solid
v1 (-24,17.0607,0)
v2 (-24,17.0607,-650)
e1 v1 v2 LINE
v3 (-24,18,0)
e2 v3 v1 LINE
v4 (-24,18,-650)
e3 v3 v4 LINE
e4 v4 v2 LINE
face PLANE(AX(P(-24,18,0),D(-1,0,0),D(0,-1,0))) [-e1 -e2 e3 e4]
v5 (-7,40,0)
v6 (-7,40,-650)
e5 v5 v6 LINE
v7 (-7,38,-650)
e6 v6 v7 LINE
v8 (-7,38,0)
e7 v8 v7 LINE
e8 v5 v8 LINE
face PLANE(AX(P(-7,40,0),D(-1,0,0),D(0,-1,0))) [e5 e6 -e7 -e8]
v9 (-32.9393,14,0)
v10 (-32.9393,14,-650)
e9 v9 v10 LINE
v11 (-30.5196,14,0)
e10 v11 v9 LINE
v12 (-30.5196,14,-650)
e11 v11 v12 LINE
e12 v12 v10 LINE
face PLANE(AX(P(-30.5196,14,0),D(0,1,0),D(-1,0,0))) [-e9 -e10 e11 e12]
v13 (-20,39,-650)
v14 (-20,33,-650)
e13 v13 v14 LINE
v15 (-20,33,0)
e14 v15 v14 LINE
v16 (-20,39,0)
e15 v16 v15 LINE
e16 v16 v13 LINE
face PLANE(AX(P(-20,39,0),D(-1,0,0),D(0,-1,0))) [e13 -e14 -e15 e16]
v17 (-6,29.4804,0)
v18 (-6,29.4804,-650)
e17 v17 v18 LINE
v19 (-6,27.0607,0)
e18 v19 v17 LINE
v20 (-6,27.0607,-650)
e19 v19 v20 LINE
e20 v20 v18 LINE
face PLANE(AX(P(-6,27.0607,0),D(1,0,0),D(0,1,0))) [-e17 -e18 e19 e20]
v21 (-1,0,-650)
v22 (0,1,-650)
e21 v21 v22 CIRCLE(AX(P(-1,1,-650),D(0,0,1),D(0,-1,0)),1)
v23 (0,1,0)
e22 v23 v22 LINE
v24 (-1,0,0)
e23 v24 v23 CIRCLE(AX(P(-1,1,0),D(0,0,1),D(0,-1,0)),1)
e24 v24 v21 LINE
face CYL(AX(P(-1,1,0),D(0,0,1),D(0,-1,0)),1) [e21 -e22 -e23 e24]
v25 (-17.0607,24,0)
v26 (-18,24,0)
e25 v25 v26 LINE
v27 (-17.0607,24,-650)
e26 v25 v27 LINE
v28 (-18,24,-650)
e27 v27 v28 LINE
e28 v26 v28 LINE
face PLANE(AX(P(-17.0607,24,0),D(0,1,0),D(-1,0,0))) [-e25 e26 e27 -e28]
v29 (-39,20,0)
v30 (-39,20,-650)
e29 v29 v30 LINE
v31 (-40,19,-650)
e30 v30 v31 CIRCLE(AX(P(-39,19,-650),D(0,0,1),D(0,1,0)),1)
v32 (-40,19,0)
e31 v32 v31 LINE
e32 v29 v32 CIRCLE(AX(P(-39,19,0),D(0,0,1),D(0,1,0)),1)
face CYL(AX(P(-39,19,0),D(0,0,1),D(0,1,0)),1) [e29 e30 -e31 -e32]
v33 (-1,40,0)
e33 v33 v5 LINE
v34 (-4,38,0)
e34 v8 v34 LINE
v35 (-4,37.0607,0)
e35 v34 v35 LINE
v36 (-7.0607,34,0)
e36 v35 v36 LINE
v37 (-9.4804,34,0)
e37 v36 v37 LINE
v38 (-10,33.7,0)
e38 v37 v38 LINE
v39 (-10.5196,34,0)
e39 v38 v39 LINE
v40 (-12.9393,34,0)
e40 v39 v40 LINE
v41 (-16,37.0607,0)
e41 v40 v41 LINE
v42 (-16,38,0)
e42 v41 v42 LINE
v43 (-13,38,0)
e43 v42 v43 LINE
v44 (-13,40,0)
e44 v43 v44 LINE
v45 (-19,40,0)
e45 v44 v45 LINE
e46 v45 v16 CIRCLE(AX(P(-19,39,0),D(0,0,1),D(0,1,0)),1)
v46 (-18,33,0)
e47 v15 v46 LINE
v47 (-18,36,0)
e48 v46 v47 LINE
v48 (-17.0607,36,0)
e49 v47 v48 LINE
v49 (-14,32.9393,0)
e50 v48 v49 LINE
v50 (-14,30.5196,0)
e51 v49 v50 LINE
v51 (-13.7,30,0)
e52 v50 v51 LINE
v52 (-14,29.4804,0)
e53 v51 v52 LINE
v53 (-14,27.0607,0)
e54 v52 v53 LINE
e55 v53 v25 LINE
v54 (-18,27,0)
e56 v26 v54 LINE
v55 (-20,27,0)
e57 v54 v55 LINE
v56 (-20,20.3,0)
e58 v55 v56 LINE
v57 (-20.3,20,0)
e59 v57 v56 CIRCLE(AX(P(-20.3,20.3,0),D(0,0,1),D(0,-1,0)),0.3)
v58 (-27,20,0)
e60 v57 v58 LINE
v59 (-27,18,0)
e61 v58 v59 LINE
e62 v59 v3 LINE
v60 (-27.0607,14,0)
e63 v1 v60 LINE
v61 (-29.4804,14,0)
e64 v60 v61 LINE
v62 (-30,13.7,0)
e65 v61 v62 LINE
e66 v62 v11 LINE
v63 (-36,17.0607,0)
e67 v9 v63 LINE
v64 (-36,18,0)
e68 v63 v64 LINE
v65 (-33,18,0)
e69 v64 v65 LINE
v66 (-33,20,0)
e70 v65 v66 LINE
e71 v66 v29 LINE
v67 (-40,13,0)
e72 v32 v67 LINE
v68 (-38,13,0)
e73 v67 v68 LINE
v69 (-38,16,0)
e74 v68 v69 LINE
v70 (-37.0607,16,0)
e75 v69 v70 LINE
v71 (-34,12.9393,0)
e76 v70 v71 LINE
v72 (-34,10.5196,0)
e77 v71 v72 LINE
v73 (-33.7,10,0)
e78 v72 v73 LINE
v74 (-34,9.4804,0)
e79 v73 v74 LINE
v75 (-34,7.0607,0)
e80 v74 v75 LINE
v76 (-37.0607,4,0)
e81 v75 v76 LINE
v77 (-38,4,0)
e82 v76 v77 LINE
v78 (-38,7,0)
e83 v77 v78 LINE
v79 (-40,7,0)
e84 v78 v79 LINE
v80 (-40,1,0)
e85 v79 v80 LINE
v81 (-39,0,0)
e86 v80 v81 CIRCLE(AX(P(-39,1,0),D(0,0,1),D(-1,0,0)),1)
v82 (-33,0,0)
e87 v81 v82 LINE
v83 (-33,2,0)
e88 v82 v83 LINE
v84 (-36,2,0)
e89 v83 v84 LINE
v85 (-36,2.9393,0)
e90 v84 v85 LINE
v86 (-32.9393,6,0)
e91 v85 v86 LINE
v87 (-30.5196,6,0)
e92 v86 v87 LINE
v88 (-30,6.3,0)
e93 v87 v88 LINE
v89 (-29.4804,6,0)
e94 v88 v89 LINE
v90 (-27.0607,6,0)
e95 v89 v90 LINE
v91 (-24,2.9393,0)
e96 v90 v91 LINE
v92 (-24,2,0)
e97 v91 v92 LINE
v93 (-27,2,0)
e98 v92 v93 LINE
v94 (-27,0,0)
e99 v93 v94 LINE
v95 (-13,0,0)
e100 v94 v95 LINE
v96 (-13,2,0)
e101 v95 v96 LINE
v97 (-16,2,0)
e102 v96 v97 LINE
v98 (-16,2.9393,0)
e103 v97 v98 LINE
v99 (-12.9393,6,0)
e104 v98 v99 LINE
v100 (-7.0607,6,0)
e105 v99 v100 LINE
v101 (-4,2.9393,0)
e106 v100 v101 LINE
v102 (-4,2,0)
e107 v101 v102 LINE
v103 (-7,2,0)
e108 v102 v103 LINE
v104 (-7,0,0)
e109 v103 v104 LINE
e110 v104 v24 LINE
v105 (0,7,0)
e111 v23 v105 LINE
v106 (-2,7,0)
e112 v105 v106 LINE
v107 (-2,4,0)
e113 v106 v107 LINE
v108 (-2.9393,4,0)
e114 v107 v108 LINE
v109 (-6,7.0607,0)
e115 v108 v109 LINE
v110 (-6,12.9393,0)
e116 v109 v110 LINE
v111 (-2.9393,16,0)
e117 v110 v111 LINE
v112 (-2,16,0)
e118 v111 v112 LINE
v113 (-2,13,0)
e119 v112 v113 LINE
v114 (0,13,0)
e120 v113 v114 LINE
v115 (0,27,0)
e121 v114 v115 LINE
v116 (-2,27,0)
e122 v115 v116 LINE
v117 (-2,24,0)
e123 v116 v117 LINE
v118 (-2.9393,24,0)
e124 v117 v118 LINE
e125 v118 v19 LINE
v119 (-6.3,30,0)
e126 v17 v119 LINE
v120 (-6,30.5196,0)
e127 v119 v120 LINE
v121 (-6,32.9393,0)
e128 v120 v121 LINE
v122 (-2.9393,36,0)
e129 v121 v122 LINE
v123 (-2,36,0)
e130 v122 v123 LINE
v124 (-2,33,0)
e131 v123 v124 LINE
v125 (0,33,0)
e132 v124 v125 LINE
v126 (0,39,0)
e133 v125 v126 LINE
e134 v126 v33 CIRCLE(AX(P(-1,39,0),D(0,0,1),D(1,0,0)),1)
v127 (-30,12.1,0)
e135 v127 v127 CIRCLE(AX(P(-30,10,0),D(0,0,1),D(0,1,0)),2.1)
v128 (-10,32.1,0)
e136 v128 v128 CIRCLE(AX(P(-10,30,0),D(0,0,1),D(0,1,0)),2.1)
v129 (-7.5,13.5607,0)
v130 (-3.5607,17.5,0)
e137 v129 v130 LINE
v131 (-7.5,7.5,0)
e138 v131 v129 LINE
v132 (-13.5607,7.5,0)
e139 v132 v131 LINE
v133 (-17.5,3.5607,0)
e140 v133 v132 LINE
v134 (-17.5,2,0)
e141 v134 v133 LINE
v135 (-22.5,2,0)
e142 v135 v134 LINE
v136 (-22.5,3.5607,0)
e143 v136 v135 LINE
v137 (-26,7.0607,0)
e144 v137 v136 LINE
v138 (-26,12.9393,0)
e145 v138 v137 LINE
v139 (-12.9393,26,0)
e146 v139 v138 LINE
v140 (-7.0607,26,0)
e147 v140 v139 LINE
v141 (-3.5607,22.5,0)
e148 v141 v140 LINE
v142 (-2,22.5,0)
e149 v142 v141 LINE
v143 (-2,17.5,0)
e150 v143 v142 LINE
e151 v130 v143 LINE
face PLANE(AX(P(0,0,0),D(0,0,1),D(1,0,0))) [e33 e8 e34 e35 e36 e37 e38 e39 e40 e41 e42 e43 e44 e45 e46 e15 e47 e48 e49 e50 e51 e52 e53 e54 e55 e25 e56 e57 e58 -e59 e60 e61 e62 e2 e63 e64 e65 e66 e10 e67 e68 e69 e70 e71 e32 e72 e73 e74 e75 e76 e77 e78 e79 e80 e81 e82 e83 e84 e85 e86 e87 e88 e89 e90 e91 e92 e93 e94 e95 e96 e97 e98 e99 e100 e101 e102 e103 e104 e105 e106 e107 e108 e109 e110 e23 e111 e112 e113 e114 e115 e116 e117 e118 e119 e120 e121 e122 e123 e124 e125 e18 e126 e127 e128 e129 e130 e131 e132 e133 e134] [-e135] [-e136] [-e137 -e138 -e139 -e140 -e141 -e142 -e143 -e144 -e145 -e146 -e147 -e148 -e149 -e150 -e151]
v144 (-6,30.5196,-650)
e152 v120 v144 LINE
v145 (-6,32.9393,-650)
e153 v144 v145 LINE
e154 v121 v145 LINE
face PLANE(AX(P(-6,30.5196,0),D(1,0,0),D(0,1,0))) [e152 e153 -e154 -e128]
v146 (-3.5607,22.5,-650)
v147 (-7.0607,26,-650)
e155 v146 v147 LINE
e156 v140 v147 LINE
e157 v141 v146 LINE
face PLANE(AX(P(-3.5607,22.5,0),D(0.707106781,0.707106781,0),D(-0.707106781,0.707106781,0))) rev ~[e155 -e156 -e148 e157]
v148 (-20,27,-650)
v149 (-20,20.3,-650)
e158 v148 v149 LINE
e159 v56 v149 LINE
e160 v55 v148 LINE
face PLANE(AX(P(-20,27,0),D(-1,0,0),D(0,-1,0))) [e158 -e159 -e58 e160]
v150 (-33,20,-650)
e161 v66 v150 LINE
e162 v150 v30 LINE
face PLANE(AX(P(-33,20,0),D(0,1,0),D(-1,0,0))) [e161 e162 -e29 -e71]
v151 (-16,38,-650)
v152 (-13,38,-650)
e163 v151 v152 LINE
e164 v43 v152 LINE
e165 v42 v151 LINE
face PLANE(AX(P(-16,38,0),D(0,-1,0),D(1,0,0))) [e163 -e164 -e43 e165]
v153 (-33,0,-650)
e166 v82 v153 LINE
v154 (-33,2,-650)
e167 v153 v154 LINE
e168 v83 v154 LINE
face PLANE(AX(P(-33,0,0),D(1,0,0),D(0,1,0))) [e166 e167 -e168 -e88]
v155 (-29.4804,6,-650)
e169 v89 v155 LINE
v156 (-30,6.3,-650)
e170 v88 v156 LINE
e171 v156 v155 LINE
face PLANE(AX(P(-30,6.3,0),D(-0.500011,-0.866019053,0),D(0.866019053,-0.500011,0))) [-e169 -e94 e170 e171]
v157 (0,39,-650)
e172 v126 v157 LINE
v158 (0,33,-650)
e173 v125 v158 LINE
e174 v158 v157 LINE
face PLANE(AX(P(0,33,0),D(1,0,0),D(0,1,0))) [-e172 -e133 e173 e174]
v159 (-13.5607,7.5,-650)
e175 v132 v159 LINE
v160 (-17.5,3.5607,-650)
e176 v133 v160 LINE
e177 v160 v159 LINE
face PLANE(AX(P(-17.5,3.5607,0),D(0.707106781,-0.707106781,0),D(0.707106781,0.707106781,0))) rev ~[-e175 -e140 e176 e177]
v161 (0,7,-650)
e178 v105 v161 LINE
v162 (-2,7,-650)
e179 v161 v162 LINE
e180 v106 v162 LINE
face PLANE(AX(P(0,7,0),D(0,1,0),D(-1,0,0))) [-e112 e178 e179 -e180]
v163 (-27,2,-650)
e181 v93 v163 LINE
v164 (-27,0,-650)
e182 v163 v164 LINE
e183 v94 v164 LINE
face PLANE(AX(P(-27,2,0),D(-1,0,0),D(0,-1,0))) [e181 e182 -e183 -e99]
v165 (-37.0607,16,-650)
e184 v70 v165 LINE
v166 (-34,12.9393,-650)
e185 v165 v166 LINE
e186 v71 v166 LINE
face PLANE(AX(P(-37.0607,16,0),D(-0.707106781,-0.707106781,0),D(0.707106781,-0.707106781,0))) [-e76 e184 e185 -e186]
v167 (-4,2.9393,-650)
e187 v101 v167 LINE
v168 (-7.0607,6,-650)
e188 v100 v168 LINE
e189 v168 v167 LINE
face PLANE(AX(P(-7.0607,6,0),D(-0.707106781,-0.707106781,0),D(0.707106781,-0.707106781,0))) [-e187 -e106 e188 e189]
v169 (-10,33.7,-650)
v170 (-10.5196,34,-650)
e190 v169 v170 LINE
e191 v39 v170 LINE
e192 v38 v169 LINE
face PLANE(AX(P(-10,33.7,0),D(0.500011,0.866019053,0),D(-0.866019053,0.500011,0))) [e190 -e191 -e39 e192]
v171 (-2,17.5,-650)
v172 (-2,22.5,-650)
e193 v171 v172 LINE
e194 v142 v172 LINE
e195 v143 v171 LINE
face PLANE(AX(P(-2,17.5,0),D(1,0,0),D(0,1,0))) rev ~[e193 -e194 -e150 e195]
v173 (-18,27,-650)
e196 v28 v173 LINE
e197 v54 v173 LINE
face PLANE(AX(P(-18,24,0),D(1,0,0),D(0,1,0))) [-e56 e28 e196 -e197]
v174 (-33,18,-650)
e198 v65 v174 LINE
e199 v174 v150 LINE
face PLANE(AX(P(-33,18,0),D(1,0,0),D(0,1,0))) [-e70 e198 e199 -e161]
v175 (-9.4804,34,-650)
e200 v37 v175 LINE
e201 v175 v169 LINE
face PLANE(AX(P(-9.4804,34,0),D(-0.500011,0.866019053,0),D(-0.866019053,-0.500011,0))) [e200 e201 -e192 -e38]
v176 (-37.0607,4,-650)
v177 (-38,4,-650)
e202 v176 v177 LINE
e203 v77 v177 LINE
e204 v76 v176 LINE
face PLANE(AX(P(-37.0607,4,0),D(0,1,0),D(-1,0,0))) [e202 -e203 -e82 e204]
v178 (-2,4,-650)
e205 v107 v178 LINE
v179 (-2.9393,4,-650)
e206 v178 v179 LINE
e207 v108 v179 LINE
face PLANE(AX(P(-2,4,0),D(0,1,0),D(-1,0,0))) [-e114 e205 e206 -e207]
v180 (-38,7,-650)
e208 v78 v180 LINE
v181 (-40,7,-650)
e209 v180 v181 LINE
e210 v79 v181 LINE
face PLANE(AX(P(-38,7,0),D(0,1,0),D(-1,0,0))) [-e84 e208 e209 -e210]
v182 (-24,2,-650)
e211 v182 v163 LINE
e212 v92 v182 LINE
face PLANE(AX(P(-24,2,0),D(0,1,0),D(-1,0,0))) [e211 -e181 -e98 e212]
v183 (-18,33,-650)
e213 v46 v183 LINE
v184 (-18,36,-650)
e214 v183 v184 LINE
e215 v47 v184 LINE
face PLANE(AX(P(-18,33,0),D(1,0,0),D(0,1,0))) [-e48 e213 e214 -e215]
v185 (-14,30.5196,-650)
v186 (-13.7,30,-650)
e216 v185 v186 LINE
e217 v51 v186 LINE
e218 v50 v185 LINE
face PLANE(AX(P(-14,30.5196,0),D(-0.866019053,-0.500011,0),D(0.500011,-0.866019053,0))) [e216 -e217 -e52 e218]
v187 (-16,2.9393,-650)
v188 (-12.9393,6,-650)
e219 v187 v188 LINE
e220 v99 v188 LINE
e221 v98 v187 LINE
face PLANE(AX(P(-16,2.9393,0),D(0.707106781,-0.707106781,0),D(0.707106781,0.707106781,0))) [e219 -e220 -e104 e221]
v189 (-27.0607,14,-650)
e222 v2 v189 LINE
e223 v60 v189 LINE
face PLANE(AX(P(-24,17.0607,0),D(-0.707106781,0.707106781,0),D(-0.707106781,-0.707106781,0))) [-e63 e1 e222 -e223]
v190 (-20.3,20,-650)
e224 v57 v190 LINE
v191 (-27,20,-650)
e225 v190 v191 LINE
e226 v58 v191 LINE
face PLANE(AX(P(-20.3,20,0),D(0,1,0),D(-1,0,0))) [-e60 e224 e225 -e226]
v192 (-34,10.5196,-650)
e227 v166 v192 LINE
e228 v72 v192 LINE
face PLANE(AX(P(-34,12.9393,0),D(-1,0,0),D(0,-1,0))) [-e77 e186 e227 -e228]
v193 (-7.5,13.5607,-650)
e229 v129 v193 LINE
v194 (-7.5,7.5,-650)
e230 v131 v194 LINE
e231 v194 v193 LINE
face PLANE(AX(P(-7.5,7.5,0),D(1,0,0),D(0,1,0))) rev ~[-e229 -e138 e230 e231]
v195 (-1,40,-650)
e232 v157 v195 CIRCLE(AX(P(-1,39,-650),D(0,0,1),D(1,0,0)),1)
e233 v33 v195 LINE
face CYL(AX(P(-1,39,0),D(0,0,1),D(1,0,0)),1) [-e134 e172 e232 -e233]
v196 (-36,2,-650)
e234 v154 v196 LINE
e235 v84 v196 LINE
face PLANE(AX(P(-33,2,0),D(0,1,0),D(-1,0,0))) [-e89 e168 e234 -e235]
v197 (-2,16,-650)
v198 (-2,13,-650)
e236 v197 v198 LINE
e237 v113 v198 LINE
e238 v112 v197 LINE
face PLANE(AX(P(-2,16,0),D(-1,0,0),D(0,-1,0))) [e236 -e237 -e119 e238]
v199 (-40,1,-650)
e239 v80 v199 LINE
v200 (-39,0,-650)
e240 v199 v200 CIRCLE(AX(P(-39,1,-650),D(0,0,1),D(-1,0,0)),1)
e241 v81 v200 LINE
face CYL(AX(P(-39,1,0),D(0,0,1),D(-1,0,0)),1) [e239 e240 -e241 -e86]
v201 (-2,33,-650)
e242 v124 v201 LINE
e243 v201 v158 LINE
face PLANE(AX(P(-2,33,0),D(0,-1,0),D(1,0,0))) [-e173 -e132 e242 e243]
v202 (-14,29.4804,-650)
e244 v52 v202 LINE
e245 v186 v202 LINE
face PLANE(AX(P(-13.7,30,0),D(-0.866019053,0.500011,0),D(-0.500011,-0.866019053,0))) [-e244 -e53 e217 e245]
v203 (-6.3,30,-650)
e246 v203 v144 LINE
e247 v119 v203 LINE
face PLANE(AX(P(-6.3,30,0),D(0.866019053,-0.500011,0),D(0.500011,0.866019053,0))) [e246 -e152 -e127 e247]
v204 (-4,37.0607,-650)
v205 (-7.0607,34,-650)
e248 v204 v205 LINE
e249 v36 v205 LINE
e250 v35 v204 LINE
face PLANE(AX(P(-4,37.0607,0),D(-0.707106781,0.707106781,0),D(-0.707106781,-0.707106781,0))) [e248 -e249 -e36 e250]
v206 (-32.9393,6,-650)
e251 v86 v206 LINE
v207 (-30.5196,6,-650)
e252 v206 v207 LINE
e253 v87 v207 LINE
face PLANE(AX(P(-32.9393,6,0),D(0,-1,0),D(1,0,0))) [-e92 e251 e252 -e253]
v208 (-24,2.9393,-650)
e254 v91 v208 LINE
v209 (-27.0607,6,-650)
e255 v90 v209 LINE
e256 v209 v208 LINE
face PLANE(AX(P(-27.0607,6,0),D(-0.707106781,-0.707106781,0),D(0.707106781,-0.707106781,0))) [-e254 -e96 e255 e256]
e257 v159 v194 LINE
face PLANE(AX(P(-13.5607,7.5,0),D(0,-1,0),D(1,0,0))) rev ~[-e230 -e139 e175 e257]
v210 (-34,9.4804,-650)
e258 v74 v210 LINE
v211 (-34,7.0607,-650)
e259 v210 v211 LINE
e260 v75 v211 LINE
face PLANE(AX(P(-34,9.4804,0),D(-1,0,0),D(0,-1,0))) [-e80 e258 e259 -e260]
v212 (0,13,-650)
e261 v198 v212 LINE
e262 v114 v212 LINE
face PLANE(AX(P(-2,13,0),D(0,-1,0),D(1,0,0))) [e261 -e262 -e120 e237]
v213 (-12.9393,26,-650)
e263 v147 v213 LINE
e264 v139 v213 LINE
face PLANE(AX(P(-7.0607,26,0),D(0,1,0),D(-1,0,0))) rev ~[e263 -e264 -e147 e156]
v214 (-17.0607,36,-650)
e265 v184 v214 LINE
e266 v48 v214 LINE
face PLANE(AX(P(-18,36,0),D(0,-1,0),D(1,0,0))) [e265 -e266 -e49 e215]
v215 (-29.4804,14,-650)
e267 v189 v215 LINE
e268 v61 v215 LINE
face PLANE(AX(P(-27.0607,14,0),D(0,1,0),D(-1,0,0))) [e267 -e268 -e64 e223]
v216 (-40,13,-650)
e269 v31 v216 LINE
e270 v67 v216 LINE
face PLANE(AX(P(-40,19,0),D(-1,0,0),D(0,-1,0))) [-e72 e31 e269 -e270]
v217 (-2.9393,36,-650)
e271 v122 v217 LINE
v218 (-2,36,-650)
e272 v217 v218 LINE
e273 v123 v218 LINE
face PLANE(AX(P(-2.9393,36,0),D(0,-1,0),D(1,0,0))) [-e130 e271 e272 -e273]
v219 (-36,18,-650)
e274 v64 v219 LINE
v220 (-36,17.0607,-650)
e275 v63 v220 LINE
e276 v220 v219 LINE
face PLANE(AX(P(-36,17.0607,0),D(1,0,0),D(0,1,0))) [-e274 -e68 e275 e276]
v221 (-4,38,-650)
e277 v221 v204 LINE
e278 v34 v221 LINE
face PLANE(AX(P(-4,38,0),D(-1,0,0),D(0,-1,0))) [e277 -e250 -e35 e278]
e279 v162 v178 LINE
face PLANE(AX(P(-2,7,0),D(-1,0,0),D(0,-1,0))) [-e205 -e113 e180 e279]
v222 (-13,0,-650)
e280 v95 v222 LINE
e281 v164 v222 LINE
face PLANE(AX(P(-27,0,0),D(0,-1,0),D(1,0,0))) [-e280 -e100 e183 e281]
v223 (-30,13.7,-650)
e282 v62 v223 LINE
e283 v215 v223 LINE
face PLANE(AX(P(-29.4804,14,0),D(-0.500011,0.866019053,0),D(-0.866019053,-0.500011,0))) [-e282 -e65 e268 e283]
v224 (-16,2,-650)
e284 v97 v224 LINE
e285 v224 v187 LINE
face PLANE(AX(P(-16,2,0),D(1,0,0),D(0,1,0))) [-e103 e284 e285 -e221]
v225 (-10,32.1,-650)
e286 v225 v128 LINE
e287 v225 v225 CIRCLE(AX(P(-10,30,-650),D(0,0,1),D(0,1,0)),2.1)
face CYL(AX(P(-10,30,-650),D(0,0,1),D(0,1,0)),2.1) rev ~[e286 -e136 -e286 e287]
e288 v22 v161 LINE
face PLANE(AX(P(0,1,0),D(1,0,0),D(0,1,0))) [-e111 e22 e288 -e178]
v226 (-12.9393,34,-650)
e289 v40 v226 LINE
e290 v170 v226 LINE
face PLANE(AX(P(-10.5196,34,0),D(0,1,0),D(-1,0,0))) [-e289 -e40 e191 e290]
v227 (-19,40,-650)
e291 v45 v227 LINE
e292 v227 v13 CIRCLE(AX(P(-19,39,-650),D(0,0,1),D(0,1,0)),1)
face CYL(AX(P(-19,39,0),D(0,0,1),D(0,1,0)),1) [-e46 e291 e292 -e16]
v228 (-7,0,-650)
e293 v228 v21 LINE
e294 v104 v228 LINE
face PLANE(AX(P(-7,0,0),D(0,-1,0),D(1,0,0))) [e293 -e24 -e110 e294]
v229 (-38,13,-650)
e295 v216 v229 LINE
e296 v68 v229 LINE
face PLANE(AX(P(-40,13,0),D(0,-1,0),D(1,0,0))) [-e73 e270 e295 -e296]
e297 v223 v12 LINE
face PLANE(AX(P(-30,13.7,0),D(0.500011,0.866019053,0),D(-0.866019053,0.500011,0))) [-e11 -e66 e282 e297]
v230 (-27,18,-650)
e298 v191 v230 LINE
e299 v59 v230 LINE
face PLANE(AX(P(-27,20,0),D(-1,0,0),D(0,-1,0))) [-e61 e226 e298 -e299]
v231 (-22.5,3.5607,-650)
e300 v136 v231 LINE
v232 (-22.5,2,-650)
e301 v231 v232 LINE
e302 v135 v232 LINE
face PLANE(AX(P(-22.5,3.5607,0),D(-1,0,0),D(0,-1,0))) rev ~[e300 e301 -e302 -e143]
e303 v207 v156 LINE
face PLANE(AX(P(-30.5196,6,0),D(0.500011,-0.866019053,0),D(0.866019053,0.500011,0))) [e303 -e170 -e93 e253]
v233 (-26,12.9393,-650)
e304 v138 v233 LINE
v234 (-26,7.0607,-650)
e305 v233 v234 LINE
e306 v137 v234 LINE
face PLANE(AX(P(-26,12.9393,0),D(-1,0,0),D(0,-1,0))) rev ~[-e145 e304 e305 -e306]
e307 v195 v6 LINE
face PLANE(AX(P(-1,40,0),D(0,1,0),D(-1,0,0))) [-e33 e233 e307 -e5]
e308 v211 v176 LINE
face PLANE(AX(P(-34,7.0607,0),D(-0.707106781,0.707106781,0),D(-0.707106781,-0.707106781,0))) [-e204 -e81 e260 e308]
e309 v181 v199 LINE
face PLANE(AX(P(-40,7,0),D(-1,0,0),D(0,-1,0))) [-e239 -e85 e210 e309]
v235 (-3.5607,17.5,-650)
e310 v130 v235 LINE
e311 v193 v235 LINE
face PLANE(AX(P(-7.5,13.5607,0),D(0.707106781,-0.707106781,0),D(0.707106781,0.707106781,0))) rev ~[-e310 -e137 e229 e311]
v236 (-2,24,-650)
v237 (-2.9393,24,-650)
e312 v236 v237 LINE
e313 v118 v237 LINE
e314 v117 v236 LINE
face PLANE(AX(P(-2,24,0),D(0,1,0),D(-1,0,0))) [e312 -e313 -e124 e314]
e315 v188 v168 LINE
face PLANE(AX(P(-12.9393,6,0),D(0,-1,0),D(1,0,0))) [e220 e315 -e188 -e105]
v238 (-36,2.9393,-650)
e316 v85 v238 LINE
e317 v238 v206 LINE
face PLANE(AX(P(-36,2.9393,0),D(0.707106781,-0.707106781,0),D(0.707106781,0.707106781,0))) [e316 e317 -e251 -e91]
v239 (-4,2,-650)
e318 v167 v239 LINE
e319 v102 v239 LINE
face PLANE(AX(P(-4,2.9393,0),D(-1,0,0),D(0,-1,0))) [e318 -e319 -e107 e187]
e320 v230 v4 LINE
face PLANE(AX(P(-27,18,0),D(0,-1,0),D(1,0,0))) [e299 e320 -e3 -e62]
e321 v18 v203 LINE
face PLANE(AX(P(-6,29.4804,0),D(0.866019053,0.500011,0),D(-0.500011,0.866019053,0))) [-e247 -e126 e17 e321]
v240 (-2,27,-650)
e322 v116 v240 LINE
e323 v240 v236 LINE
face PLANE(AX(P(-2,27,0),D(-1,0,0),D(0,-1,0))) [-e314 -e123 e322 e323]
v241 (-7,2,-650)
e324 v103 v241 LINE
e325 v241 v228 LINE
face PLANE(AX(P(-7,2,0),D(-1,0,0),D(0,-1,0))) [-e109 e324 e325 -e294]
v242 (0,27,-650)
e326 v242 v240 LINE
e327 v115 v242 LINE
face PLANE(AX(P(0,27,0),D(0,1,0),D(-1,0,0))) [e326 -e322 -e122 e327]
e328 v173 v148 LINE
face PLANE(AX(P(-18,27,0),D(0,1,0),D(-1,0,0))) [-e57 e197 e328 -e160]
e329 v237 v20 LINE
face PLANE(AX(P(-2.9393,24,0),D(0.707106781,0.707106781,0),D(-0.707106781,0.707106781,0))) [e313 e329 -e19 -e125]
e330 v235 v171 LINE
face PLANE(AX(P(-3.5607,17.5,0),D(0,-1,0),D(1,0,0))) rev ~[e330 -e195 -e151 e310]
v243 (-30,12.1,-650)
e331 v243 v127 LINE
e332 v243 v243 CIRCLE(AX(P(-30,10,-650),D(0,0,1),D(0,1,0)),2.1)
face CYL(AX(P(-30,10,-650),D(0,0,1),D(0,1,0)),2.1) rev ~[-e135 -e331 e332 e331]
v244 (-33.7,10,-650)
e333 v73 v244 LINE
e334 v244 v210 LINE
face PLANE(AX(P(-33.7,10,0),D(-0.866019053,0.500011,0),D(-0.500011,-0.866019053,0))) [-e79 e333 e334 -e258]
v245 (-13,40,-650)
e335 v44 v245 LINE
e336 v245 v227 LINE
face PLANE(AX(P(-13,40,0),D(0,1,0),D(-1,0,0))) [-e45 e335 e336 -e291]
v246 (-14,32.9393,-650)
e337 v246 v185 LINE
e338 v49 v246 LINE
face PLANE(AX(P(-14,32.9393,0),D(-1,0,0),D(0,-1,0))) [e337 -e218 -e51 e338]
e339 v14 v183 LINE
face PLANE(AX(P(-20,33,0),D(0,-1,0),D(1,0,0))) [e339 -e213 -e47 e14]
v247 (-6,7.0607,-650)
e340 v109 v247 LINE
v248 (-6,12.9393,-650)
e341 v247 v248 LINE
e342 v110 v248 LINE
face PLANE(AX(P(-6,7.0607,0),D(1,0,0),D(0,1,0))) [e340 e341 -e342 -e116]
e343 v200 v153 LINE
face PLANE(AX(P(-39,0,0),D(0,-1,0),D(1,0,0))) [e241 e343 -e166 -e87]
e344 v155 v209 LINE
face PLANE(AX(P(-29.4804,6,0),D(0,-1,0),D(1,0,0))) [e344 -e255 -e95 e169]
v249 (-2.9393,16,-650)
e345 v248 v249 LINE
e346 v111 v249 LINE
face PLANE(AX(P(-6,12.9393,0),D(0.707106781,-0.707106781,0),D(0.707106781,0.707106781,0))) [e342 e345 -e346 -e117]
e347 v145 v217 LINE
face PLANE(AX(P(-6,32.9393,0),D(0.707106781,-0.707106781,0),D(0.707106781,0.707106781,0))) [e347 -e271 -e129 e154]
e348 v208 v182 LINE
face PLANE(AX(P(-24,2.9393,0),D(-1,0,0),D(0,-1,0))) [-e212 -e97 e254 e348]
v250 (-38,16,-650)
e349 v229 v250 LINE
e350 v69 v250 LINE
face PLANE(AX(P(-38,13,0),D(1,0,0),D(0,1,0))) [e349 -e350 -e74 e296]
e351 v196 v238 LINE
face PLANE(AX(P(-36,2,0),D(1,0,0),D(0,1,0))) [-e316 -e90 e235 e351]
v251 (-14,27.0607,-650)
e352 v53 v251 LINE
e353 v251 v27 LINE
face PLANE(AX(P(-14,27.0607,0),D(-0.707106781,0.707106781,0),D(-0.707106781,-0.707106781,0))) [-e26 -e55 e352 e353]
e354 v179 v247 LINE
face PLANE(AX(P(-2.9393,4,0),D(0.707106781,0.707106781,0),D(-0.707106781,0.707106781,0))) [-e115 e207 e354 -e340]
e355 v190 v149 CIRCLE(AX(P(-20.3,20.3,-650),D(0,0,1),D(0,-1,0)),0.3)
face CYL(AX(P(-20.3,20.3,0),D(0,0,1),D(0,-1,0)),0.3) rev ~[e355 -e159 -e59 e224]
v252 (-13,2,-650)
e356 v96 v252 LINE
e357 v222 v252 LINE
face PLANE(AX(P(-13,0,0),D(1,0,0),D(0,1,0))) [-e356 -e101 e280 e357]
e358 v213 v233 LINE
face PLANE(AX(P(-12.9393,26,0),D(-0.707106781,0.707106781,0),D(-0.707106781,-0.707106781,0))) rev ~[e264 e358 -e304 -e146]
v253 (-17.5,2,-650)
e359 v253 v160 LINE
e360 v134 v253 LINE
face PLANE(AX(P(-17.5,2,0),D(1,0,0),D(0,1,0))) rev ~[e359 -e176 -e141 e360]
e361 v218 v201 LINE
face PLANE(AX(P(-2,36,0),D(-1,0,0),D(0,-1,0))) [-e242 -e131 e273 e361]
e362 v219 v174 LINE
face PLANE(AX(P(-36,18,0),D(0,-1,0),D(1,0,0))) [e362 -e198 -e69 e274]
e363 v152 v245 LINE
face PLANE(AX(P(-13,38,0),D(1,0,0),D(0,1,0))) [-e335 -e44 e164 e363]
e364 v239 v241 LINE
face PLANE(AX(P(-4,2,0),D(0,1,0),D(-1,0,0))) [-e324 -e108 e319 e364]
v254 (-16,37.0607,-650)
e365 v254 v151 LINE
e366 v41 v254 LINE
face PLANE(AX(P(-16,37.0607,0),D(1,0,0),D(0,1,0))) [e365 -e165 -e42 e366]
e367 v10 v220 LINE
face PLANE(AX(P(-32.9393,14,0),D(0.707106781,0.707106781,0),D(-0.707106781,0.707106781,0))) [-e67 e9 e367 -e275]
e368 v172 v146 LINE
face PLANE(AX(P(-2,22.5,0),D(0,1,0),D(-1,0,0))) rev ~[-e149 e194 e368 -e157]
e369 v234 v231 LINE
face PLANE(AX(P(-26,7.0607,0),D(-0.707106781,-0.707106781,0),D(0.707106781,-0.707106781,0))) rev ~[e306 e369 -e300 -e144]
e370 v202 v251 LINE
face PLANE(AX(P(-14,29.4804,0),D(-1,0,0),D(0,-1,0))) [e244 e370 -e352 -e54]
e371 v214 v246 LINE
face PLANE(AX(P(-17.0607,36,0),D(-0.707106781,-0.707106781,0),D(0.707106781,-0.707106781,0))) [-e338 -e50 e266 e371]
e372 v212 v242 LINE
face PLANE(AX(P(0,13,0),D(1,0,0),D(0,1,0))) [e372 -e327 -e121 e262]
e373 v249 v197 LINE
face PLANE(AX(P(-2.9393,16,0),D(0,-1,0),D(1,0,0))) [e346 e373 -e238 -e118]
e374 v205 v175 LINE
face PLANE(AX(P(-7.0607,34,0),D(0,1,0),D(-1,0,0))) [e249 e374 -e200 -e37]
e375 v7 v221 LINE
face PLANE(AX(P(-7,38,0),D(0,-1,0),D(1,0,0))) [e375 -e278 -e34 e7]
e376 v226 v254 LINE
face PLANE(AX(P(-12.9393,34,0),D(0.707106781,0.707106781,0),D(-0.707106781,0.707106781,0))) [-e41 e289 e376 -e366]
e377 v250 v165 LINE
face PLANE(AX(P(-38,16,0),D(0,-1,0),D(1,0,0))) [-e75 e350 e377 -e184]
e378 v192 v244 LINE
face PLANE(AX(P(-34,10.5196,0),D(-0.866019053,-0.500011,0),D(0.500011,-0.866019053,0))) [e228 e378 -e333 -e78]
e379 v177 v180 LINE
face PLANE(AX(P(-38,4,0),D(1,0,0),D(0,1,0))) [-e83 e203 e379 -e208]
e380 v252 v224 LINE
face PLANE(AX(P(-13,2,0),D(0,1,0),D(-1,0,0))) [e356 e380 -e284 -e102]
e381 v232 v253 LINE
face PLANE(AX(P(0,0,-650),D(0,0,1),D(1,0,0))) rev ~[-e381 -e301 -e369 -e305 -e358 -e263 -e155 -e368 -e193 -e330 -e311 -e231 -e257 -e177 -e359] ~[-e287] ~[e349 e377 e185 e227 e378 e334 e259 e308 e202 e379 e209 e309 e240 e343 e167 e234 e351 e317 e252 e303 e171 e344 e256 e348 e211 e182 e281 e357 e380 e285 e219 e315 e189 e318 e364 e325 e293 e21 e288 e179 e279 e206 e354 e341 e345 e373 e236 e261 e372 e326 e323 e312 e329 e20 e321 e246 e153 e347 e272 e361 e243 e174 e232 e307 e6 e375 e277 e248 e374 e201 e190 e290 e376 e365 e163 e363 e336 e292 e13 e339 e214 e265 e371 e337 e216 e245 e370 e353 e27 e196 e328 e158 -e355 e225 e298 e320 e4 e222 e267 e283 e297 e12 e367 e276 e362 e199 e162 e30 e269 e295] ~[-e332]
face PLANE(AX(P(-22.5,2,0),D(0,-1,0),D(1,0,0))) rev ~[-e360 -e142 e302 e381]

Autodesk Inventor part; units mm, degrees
ref_plane "YZ Plane" through (0, 0, 0) normal (1, 0, 0) x (0, 1, 0)
ref_plane "XZ Plane" through (0, 0, 0) normal (0, 1, 0) x (-1, 0, 0)
ref_plane "XY Plane" through (0, 0, 0) normal (0, 0, 1) x (1, 0, 0)
sketch "Sketch_1" plane through (0, 0, 0) normal (0, 0, 1) x (1, 0, 0)
  line L0 (-40, 19) -> (-40, 13)
  line L1 (-40, 13) -> (-38, 13)
  line L2 (-38, 13) -> (-38, 16)
  line L3 (-38, 16) -> (-37.0607, 16)
  line L4 (-37.0607, 16) -> (-34, 12.9393)
  line L5 (-34, 12.9393) -> (-34, 10.5196)
  line L6 (-34, 10.5196) -> (-33.7, 10)
  line L7 (-33.7, 10) -> (-34, 9.4804)
  line L8 (-34, 9.4804) -> (-34, 7.0607)
  line L9 (-34, 7.0607) -> (-37.0607, 4)
  line L10 (-37.0607, 4) -> (-38, 4)
  line L11 (-38, 4) -> (-38, 7)
  line L12 (-38, 7) -> (-40, 7)
  line L13 (-40, 7) -> (-40, 1)
  arc A0 (-40, 1) -> (-39, 0) centre (-39, 1) ccw
  line L14 (-39, 0) -> (-33, 0)
  line L15 (-33, 0) -> (-33, 2)
  line L16 (-33, 2) -> (-36, 2)
  line L17 (-36, 2) -> (-36, 2.9393)
  line L18 (-36, 2.9393) -> (-32.9393, 6)
  line L19 (-32.9393, 6) -> (-30.5196, 6)
  line L20 (-30.5196, 6) -> (-30, 6.3)
  line L21 (-30, 6.3) -> (-29.4804, 6)
  line L22 (-29.4804, 6) -> (-27.0607, 6)
  line L23 (-27.0607, 6) -> (-24, 2.9393)
  line L24 (-24, 2.9393) -> (-24, 2)
  line L25 (-24, 2) -> (-27, 2)
  line L26 (-27, 2) -> (-27, 0)
  line L27 (-27, 0) -> (-13, 0)
  line L28 (-13, 0) -> (-13, 2)
  line L29 (-13, 2) -> (-16, 2)
  line L30 (-16, 2) -> (-16, 2.9393)
  line L31 (-16, 2.9393) -> (-12.9393, 6)
  line L32 (-12.9393, 6) -> (-7.0607, 6)
  line L33 (-7.0607, 6) -> (-4, 2.9393)
  line L34 (-4, 2.9393) -> (-4, 2)
  line L35 (-4, 2) -> (-7, 2)
  line L36 (-7, 2) -> (-7, 0)
  line L37 (-7, 0) -> (-1, 0)
  arc A1 (-1, 0) -> (0, 1) centre (-1, 1) ccw
  line L38 (0, 1) -> (0, 7)
  line L39 (0, 7) -> (-2, 7)
  line L40 (-2, 7) -> (-2, 4)
  line L41 (-2, 4) -> (-2.9393, 4)
  line L42 (-2.9393, 4) -> (-6, 7.0607)
  line L43 (-6, 7.0607) -> (-6, 12.9393)
  line L44 (-6, 12.9393) -> (-2.9393, 16)
  line L45 (-2.9393, 16) -> (-2, 16)
  line L46 (-2, 16) -> (-2, 13)
  line L47 (-2, 13) -> (0, 13)
  line L48 (0, 13) -> (0, 27)
  line L49 (0, 27) -> (-2, 27)
  line L50 (-2, 27) -> (-2, 24)
  line L51 (-2, 24) -> (-2.9393, 24)
  line L52 (-2.9393, 24) -> (-6, 27.0607)
  line L53 (-6, 27.0607) -> (-6, 29.4804)
  line L54 (-6, 29.4804) -> (-6.3, 30)
  line L55 (-6.3, 30) -> (-6, 30.5196)
  line L56 (-6, 30.5196) -> (-6, 32.9393)
  line L57 (-6, 32.9393) -> (-2.9393, 36)
  line L58 (-2.9393, 36) -> (-2, 36)
  line L59 (-2, 36) -> (-2, 33)
  line L60 (-2, 33) -> (0, 33)
  line L61 (0, 33) -> (0, 39)
  arc A2 (0, 39) -> (-1, 40) centre (-1, 39) ccw
  line L62 (-1, 40) -> (-7, 40)
  line L63 (-7, 40) -> (-7, 38)
  line L64 (-7, 38) -> (-4, 38)
  line L65 (-4, 38) -> (-4, 37.0607)
  line L66 (-4, 37.0607) -> (-7.0607, 34)
  line L67 (-7.0607, 34) -> (-9.4804, 34)
  line L68 (-9.4804, 34) -> (-10, 33.7)
  line L69 (-10, 33.7) -> (-10.5196, 34)
  line L70 (-10.5196, 34) -> (-12.9393, 34)
  line L71 (-12.9393, 34) -> (-16, 37.0607)
  line L72 (-16, 37.0607) -> (-16, 38)
  line L73 (-16, 38) -> (-13, 38)
  line L74 (-13, 38) -> (-13, 40)
  line L75 (-13, 40) -> (-19, 40)
  arc A3 (-19, 40) -> (-20, 39) centre (-19, 39) ccw
  line L76 (-20, 39) -> (-20, 33)
  line L77 (-20, 33) -> (-18, 33)
  line L78 (-18, 33) -> (-18, 36)
  line L79 (-18, 36) -> (-17.0607, 36)
  line L80 (-17.0607, 36) -> (-14, 32.9393)
  line L81 (-14, 32.9393) -> (-14, 30.5196)
  line L82 (-14, 30.5196) -> (-13.7, 30)
  line L83 (-13.7, 30) -> (-14, 29.4804)
  line L84 (-14, 29.4804) -> (-14, 27.0607)
  line L85 (-14, 27.0607) -> (-17.0607, 24)
  line L86 (-17.0607, 24) -> (-18, 24)
  line L87 (-18, 24) -> (-18, 27)
  line L88 (-18, 27) -> (-20, 27)
  line L89 (-20, 27) -> (-20, 20.3)
  arc A4 (-20.3, 20) -> (-20, 20.3) centre (-20.3, 20.3) ccw
  line L90 (-20.3, 20) -> (-27, 20)
  line L91 (-27, 20) -> (-27, 18)
  line L92 (-27, 18) -> (-24, 18)
  line L93 (-24, 18) -> (-24, 17.0607)
  line L94 (-24, 17.0607) -> (-27.0607, 14)
  line L95 (-27.0607, 14) -> (-29.4804, 14)
  line L96 (-29.4804, 14) -> (-30, 13.7)
  line L97 (-30, 13.7) -> (-30.5196, 14)
  line L98 (-30.5196, 14) -> (-32.9393, 14)
  line L99 (-32.9393, 14) -> (-36, 17.0607)
  line L100 (-36, 17.0607) -> (-36, 18)
  line L101 (-36, 18) -> (-33, 18)
  line L102 (-33, 18) -> (-33, 20)
  line L103 (-33, 20) -> (-39, 20)
  arc A5 (-39, 20) -> (-40, 19) centre (-39, 19) ccw
  line L104 (-26, 7.0607) -> (-22.5, 3.5607)
  line L105 (-22.5, 3.5607) -> (-22.5, 2)
  line L106 (-22.5, 2) -> (-17.5, 2)
  line L107 (-17.5, 2) -> (-17.5, 3.5607)
  line L108 (-17.5, 3.5607) -> (-13.5607, 7.5)
  line L109 (-13.5607, 7.5) -> (-7.5, 7.5)
  line L110 (-7.5, 7.5) -> (-7.5, 13.5607)
  line L111 (-7.5, 13.5607) -> (-3.5607, 17.5)
  line L112 (-3.5607, 17.5) -> (-2, 17.5)
  line L113 (-2, 17.5) -> (-2, 22.5)
  line L114 (-2, 22.5) -> (-3.5607, 22.5)
  line L115 (-3.5607, 22.5) -> (-7.0607, 26)
  line L116 (-7.0607, 26) -> (-12.9393, 26)
  line L117 (-12.9393, 26) -> (-26, 12.9393)
  line L118 (-26, 12.9393) -> (-26, 7.0607)
extrude "Extrusion1" add sketch "Sketch_1" against normal blind 650
sketch "Sketch2" plane through (0, 0, -650) normal (0, 0, -1) x (-1, 0, 0)
  point P0 (10, 30)
hole "Hole1" at (-10, 30, -650) direction (0, 0, 1) diameter 4.2 end through all
sketch "Sketch3" plane through (0, 0, -650) normal (0, 0, -1) x (-1, 0, 0)
  point P0 (30, 10)
hole "Hole2" at (-30, 10, -650) direction (0, 0, 1) diameter 4.2 end through all
thread "Thread1" size "M5x0.8" class "6H" standard "ANSI Metric M Profile" length 10
thread "Thread2" size "M5x0.8" class "6H" standard "ANSI Metric M Profile" length 10
thread "Thread3" size "M5x0.8" class "6H" standard "ANSI Metric M Profile" length 10
thread "Thread4" size "M5x0.8" class "6H" standard "ANSI Metric M Profile" length 10
properties part number "4040 Back Right Corner" material "Aluminum 6061"
